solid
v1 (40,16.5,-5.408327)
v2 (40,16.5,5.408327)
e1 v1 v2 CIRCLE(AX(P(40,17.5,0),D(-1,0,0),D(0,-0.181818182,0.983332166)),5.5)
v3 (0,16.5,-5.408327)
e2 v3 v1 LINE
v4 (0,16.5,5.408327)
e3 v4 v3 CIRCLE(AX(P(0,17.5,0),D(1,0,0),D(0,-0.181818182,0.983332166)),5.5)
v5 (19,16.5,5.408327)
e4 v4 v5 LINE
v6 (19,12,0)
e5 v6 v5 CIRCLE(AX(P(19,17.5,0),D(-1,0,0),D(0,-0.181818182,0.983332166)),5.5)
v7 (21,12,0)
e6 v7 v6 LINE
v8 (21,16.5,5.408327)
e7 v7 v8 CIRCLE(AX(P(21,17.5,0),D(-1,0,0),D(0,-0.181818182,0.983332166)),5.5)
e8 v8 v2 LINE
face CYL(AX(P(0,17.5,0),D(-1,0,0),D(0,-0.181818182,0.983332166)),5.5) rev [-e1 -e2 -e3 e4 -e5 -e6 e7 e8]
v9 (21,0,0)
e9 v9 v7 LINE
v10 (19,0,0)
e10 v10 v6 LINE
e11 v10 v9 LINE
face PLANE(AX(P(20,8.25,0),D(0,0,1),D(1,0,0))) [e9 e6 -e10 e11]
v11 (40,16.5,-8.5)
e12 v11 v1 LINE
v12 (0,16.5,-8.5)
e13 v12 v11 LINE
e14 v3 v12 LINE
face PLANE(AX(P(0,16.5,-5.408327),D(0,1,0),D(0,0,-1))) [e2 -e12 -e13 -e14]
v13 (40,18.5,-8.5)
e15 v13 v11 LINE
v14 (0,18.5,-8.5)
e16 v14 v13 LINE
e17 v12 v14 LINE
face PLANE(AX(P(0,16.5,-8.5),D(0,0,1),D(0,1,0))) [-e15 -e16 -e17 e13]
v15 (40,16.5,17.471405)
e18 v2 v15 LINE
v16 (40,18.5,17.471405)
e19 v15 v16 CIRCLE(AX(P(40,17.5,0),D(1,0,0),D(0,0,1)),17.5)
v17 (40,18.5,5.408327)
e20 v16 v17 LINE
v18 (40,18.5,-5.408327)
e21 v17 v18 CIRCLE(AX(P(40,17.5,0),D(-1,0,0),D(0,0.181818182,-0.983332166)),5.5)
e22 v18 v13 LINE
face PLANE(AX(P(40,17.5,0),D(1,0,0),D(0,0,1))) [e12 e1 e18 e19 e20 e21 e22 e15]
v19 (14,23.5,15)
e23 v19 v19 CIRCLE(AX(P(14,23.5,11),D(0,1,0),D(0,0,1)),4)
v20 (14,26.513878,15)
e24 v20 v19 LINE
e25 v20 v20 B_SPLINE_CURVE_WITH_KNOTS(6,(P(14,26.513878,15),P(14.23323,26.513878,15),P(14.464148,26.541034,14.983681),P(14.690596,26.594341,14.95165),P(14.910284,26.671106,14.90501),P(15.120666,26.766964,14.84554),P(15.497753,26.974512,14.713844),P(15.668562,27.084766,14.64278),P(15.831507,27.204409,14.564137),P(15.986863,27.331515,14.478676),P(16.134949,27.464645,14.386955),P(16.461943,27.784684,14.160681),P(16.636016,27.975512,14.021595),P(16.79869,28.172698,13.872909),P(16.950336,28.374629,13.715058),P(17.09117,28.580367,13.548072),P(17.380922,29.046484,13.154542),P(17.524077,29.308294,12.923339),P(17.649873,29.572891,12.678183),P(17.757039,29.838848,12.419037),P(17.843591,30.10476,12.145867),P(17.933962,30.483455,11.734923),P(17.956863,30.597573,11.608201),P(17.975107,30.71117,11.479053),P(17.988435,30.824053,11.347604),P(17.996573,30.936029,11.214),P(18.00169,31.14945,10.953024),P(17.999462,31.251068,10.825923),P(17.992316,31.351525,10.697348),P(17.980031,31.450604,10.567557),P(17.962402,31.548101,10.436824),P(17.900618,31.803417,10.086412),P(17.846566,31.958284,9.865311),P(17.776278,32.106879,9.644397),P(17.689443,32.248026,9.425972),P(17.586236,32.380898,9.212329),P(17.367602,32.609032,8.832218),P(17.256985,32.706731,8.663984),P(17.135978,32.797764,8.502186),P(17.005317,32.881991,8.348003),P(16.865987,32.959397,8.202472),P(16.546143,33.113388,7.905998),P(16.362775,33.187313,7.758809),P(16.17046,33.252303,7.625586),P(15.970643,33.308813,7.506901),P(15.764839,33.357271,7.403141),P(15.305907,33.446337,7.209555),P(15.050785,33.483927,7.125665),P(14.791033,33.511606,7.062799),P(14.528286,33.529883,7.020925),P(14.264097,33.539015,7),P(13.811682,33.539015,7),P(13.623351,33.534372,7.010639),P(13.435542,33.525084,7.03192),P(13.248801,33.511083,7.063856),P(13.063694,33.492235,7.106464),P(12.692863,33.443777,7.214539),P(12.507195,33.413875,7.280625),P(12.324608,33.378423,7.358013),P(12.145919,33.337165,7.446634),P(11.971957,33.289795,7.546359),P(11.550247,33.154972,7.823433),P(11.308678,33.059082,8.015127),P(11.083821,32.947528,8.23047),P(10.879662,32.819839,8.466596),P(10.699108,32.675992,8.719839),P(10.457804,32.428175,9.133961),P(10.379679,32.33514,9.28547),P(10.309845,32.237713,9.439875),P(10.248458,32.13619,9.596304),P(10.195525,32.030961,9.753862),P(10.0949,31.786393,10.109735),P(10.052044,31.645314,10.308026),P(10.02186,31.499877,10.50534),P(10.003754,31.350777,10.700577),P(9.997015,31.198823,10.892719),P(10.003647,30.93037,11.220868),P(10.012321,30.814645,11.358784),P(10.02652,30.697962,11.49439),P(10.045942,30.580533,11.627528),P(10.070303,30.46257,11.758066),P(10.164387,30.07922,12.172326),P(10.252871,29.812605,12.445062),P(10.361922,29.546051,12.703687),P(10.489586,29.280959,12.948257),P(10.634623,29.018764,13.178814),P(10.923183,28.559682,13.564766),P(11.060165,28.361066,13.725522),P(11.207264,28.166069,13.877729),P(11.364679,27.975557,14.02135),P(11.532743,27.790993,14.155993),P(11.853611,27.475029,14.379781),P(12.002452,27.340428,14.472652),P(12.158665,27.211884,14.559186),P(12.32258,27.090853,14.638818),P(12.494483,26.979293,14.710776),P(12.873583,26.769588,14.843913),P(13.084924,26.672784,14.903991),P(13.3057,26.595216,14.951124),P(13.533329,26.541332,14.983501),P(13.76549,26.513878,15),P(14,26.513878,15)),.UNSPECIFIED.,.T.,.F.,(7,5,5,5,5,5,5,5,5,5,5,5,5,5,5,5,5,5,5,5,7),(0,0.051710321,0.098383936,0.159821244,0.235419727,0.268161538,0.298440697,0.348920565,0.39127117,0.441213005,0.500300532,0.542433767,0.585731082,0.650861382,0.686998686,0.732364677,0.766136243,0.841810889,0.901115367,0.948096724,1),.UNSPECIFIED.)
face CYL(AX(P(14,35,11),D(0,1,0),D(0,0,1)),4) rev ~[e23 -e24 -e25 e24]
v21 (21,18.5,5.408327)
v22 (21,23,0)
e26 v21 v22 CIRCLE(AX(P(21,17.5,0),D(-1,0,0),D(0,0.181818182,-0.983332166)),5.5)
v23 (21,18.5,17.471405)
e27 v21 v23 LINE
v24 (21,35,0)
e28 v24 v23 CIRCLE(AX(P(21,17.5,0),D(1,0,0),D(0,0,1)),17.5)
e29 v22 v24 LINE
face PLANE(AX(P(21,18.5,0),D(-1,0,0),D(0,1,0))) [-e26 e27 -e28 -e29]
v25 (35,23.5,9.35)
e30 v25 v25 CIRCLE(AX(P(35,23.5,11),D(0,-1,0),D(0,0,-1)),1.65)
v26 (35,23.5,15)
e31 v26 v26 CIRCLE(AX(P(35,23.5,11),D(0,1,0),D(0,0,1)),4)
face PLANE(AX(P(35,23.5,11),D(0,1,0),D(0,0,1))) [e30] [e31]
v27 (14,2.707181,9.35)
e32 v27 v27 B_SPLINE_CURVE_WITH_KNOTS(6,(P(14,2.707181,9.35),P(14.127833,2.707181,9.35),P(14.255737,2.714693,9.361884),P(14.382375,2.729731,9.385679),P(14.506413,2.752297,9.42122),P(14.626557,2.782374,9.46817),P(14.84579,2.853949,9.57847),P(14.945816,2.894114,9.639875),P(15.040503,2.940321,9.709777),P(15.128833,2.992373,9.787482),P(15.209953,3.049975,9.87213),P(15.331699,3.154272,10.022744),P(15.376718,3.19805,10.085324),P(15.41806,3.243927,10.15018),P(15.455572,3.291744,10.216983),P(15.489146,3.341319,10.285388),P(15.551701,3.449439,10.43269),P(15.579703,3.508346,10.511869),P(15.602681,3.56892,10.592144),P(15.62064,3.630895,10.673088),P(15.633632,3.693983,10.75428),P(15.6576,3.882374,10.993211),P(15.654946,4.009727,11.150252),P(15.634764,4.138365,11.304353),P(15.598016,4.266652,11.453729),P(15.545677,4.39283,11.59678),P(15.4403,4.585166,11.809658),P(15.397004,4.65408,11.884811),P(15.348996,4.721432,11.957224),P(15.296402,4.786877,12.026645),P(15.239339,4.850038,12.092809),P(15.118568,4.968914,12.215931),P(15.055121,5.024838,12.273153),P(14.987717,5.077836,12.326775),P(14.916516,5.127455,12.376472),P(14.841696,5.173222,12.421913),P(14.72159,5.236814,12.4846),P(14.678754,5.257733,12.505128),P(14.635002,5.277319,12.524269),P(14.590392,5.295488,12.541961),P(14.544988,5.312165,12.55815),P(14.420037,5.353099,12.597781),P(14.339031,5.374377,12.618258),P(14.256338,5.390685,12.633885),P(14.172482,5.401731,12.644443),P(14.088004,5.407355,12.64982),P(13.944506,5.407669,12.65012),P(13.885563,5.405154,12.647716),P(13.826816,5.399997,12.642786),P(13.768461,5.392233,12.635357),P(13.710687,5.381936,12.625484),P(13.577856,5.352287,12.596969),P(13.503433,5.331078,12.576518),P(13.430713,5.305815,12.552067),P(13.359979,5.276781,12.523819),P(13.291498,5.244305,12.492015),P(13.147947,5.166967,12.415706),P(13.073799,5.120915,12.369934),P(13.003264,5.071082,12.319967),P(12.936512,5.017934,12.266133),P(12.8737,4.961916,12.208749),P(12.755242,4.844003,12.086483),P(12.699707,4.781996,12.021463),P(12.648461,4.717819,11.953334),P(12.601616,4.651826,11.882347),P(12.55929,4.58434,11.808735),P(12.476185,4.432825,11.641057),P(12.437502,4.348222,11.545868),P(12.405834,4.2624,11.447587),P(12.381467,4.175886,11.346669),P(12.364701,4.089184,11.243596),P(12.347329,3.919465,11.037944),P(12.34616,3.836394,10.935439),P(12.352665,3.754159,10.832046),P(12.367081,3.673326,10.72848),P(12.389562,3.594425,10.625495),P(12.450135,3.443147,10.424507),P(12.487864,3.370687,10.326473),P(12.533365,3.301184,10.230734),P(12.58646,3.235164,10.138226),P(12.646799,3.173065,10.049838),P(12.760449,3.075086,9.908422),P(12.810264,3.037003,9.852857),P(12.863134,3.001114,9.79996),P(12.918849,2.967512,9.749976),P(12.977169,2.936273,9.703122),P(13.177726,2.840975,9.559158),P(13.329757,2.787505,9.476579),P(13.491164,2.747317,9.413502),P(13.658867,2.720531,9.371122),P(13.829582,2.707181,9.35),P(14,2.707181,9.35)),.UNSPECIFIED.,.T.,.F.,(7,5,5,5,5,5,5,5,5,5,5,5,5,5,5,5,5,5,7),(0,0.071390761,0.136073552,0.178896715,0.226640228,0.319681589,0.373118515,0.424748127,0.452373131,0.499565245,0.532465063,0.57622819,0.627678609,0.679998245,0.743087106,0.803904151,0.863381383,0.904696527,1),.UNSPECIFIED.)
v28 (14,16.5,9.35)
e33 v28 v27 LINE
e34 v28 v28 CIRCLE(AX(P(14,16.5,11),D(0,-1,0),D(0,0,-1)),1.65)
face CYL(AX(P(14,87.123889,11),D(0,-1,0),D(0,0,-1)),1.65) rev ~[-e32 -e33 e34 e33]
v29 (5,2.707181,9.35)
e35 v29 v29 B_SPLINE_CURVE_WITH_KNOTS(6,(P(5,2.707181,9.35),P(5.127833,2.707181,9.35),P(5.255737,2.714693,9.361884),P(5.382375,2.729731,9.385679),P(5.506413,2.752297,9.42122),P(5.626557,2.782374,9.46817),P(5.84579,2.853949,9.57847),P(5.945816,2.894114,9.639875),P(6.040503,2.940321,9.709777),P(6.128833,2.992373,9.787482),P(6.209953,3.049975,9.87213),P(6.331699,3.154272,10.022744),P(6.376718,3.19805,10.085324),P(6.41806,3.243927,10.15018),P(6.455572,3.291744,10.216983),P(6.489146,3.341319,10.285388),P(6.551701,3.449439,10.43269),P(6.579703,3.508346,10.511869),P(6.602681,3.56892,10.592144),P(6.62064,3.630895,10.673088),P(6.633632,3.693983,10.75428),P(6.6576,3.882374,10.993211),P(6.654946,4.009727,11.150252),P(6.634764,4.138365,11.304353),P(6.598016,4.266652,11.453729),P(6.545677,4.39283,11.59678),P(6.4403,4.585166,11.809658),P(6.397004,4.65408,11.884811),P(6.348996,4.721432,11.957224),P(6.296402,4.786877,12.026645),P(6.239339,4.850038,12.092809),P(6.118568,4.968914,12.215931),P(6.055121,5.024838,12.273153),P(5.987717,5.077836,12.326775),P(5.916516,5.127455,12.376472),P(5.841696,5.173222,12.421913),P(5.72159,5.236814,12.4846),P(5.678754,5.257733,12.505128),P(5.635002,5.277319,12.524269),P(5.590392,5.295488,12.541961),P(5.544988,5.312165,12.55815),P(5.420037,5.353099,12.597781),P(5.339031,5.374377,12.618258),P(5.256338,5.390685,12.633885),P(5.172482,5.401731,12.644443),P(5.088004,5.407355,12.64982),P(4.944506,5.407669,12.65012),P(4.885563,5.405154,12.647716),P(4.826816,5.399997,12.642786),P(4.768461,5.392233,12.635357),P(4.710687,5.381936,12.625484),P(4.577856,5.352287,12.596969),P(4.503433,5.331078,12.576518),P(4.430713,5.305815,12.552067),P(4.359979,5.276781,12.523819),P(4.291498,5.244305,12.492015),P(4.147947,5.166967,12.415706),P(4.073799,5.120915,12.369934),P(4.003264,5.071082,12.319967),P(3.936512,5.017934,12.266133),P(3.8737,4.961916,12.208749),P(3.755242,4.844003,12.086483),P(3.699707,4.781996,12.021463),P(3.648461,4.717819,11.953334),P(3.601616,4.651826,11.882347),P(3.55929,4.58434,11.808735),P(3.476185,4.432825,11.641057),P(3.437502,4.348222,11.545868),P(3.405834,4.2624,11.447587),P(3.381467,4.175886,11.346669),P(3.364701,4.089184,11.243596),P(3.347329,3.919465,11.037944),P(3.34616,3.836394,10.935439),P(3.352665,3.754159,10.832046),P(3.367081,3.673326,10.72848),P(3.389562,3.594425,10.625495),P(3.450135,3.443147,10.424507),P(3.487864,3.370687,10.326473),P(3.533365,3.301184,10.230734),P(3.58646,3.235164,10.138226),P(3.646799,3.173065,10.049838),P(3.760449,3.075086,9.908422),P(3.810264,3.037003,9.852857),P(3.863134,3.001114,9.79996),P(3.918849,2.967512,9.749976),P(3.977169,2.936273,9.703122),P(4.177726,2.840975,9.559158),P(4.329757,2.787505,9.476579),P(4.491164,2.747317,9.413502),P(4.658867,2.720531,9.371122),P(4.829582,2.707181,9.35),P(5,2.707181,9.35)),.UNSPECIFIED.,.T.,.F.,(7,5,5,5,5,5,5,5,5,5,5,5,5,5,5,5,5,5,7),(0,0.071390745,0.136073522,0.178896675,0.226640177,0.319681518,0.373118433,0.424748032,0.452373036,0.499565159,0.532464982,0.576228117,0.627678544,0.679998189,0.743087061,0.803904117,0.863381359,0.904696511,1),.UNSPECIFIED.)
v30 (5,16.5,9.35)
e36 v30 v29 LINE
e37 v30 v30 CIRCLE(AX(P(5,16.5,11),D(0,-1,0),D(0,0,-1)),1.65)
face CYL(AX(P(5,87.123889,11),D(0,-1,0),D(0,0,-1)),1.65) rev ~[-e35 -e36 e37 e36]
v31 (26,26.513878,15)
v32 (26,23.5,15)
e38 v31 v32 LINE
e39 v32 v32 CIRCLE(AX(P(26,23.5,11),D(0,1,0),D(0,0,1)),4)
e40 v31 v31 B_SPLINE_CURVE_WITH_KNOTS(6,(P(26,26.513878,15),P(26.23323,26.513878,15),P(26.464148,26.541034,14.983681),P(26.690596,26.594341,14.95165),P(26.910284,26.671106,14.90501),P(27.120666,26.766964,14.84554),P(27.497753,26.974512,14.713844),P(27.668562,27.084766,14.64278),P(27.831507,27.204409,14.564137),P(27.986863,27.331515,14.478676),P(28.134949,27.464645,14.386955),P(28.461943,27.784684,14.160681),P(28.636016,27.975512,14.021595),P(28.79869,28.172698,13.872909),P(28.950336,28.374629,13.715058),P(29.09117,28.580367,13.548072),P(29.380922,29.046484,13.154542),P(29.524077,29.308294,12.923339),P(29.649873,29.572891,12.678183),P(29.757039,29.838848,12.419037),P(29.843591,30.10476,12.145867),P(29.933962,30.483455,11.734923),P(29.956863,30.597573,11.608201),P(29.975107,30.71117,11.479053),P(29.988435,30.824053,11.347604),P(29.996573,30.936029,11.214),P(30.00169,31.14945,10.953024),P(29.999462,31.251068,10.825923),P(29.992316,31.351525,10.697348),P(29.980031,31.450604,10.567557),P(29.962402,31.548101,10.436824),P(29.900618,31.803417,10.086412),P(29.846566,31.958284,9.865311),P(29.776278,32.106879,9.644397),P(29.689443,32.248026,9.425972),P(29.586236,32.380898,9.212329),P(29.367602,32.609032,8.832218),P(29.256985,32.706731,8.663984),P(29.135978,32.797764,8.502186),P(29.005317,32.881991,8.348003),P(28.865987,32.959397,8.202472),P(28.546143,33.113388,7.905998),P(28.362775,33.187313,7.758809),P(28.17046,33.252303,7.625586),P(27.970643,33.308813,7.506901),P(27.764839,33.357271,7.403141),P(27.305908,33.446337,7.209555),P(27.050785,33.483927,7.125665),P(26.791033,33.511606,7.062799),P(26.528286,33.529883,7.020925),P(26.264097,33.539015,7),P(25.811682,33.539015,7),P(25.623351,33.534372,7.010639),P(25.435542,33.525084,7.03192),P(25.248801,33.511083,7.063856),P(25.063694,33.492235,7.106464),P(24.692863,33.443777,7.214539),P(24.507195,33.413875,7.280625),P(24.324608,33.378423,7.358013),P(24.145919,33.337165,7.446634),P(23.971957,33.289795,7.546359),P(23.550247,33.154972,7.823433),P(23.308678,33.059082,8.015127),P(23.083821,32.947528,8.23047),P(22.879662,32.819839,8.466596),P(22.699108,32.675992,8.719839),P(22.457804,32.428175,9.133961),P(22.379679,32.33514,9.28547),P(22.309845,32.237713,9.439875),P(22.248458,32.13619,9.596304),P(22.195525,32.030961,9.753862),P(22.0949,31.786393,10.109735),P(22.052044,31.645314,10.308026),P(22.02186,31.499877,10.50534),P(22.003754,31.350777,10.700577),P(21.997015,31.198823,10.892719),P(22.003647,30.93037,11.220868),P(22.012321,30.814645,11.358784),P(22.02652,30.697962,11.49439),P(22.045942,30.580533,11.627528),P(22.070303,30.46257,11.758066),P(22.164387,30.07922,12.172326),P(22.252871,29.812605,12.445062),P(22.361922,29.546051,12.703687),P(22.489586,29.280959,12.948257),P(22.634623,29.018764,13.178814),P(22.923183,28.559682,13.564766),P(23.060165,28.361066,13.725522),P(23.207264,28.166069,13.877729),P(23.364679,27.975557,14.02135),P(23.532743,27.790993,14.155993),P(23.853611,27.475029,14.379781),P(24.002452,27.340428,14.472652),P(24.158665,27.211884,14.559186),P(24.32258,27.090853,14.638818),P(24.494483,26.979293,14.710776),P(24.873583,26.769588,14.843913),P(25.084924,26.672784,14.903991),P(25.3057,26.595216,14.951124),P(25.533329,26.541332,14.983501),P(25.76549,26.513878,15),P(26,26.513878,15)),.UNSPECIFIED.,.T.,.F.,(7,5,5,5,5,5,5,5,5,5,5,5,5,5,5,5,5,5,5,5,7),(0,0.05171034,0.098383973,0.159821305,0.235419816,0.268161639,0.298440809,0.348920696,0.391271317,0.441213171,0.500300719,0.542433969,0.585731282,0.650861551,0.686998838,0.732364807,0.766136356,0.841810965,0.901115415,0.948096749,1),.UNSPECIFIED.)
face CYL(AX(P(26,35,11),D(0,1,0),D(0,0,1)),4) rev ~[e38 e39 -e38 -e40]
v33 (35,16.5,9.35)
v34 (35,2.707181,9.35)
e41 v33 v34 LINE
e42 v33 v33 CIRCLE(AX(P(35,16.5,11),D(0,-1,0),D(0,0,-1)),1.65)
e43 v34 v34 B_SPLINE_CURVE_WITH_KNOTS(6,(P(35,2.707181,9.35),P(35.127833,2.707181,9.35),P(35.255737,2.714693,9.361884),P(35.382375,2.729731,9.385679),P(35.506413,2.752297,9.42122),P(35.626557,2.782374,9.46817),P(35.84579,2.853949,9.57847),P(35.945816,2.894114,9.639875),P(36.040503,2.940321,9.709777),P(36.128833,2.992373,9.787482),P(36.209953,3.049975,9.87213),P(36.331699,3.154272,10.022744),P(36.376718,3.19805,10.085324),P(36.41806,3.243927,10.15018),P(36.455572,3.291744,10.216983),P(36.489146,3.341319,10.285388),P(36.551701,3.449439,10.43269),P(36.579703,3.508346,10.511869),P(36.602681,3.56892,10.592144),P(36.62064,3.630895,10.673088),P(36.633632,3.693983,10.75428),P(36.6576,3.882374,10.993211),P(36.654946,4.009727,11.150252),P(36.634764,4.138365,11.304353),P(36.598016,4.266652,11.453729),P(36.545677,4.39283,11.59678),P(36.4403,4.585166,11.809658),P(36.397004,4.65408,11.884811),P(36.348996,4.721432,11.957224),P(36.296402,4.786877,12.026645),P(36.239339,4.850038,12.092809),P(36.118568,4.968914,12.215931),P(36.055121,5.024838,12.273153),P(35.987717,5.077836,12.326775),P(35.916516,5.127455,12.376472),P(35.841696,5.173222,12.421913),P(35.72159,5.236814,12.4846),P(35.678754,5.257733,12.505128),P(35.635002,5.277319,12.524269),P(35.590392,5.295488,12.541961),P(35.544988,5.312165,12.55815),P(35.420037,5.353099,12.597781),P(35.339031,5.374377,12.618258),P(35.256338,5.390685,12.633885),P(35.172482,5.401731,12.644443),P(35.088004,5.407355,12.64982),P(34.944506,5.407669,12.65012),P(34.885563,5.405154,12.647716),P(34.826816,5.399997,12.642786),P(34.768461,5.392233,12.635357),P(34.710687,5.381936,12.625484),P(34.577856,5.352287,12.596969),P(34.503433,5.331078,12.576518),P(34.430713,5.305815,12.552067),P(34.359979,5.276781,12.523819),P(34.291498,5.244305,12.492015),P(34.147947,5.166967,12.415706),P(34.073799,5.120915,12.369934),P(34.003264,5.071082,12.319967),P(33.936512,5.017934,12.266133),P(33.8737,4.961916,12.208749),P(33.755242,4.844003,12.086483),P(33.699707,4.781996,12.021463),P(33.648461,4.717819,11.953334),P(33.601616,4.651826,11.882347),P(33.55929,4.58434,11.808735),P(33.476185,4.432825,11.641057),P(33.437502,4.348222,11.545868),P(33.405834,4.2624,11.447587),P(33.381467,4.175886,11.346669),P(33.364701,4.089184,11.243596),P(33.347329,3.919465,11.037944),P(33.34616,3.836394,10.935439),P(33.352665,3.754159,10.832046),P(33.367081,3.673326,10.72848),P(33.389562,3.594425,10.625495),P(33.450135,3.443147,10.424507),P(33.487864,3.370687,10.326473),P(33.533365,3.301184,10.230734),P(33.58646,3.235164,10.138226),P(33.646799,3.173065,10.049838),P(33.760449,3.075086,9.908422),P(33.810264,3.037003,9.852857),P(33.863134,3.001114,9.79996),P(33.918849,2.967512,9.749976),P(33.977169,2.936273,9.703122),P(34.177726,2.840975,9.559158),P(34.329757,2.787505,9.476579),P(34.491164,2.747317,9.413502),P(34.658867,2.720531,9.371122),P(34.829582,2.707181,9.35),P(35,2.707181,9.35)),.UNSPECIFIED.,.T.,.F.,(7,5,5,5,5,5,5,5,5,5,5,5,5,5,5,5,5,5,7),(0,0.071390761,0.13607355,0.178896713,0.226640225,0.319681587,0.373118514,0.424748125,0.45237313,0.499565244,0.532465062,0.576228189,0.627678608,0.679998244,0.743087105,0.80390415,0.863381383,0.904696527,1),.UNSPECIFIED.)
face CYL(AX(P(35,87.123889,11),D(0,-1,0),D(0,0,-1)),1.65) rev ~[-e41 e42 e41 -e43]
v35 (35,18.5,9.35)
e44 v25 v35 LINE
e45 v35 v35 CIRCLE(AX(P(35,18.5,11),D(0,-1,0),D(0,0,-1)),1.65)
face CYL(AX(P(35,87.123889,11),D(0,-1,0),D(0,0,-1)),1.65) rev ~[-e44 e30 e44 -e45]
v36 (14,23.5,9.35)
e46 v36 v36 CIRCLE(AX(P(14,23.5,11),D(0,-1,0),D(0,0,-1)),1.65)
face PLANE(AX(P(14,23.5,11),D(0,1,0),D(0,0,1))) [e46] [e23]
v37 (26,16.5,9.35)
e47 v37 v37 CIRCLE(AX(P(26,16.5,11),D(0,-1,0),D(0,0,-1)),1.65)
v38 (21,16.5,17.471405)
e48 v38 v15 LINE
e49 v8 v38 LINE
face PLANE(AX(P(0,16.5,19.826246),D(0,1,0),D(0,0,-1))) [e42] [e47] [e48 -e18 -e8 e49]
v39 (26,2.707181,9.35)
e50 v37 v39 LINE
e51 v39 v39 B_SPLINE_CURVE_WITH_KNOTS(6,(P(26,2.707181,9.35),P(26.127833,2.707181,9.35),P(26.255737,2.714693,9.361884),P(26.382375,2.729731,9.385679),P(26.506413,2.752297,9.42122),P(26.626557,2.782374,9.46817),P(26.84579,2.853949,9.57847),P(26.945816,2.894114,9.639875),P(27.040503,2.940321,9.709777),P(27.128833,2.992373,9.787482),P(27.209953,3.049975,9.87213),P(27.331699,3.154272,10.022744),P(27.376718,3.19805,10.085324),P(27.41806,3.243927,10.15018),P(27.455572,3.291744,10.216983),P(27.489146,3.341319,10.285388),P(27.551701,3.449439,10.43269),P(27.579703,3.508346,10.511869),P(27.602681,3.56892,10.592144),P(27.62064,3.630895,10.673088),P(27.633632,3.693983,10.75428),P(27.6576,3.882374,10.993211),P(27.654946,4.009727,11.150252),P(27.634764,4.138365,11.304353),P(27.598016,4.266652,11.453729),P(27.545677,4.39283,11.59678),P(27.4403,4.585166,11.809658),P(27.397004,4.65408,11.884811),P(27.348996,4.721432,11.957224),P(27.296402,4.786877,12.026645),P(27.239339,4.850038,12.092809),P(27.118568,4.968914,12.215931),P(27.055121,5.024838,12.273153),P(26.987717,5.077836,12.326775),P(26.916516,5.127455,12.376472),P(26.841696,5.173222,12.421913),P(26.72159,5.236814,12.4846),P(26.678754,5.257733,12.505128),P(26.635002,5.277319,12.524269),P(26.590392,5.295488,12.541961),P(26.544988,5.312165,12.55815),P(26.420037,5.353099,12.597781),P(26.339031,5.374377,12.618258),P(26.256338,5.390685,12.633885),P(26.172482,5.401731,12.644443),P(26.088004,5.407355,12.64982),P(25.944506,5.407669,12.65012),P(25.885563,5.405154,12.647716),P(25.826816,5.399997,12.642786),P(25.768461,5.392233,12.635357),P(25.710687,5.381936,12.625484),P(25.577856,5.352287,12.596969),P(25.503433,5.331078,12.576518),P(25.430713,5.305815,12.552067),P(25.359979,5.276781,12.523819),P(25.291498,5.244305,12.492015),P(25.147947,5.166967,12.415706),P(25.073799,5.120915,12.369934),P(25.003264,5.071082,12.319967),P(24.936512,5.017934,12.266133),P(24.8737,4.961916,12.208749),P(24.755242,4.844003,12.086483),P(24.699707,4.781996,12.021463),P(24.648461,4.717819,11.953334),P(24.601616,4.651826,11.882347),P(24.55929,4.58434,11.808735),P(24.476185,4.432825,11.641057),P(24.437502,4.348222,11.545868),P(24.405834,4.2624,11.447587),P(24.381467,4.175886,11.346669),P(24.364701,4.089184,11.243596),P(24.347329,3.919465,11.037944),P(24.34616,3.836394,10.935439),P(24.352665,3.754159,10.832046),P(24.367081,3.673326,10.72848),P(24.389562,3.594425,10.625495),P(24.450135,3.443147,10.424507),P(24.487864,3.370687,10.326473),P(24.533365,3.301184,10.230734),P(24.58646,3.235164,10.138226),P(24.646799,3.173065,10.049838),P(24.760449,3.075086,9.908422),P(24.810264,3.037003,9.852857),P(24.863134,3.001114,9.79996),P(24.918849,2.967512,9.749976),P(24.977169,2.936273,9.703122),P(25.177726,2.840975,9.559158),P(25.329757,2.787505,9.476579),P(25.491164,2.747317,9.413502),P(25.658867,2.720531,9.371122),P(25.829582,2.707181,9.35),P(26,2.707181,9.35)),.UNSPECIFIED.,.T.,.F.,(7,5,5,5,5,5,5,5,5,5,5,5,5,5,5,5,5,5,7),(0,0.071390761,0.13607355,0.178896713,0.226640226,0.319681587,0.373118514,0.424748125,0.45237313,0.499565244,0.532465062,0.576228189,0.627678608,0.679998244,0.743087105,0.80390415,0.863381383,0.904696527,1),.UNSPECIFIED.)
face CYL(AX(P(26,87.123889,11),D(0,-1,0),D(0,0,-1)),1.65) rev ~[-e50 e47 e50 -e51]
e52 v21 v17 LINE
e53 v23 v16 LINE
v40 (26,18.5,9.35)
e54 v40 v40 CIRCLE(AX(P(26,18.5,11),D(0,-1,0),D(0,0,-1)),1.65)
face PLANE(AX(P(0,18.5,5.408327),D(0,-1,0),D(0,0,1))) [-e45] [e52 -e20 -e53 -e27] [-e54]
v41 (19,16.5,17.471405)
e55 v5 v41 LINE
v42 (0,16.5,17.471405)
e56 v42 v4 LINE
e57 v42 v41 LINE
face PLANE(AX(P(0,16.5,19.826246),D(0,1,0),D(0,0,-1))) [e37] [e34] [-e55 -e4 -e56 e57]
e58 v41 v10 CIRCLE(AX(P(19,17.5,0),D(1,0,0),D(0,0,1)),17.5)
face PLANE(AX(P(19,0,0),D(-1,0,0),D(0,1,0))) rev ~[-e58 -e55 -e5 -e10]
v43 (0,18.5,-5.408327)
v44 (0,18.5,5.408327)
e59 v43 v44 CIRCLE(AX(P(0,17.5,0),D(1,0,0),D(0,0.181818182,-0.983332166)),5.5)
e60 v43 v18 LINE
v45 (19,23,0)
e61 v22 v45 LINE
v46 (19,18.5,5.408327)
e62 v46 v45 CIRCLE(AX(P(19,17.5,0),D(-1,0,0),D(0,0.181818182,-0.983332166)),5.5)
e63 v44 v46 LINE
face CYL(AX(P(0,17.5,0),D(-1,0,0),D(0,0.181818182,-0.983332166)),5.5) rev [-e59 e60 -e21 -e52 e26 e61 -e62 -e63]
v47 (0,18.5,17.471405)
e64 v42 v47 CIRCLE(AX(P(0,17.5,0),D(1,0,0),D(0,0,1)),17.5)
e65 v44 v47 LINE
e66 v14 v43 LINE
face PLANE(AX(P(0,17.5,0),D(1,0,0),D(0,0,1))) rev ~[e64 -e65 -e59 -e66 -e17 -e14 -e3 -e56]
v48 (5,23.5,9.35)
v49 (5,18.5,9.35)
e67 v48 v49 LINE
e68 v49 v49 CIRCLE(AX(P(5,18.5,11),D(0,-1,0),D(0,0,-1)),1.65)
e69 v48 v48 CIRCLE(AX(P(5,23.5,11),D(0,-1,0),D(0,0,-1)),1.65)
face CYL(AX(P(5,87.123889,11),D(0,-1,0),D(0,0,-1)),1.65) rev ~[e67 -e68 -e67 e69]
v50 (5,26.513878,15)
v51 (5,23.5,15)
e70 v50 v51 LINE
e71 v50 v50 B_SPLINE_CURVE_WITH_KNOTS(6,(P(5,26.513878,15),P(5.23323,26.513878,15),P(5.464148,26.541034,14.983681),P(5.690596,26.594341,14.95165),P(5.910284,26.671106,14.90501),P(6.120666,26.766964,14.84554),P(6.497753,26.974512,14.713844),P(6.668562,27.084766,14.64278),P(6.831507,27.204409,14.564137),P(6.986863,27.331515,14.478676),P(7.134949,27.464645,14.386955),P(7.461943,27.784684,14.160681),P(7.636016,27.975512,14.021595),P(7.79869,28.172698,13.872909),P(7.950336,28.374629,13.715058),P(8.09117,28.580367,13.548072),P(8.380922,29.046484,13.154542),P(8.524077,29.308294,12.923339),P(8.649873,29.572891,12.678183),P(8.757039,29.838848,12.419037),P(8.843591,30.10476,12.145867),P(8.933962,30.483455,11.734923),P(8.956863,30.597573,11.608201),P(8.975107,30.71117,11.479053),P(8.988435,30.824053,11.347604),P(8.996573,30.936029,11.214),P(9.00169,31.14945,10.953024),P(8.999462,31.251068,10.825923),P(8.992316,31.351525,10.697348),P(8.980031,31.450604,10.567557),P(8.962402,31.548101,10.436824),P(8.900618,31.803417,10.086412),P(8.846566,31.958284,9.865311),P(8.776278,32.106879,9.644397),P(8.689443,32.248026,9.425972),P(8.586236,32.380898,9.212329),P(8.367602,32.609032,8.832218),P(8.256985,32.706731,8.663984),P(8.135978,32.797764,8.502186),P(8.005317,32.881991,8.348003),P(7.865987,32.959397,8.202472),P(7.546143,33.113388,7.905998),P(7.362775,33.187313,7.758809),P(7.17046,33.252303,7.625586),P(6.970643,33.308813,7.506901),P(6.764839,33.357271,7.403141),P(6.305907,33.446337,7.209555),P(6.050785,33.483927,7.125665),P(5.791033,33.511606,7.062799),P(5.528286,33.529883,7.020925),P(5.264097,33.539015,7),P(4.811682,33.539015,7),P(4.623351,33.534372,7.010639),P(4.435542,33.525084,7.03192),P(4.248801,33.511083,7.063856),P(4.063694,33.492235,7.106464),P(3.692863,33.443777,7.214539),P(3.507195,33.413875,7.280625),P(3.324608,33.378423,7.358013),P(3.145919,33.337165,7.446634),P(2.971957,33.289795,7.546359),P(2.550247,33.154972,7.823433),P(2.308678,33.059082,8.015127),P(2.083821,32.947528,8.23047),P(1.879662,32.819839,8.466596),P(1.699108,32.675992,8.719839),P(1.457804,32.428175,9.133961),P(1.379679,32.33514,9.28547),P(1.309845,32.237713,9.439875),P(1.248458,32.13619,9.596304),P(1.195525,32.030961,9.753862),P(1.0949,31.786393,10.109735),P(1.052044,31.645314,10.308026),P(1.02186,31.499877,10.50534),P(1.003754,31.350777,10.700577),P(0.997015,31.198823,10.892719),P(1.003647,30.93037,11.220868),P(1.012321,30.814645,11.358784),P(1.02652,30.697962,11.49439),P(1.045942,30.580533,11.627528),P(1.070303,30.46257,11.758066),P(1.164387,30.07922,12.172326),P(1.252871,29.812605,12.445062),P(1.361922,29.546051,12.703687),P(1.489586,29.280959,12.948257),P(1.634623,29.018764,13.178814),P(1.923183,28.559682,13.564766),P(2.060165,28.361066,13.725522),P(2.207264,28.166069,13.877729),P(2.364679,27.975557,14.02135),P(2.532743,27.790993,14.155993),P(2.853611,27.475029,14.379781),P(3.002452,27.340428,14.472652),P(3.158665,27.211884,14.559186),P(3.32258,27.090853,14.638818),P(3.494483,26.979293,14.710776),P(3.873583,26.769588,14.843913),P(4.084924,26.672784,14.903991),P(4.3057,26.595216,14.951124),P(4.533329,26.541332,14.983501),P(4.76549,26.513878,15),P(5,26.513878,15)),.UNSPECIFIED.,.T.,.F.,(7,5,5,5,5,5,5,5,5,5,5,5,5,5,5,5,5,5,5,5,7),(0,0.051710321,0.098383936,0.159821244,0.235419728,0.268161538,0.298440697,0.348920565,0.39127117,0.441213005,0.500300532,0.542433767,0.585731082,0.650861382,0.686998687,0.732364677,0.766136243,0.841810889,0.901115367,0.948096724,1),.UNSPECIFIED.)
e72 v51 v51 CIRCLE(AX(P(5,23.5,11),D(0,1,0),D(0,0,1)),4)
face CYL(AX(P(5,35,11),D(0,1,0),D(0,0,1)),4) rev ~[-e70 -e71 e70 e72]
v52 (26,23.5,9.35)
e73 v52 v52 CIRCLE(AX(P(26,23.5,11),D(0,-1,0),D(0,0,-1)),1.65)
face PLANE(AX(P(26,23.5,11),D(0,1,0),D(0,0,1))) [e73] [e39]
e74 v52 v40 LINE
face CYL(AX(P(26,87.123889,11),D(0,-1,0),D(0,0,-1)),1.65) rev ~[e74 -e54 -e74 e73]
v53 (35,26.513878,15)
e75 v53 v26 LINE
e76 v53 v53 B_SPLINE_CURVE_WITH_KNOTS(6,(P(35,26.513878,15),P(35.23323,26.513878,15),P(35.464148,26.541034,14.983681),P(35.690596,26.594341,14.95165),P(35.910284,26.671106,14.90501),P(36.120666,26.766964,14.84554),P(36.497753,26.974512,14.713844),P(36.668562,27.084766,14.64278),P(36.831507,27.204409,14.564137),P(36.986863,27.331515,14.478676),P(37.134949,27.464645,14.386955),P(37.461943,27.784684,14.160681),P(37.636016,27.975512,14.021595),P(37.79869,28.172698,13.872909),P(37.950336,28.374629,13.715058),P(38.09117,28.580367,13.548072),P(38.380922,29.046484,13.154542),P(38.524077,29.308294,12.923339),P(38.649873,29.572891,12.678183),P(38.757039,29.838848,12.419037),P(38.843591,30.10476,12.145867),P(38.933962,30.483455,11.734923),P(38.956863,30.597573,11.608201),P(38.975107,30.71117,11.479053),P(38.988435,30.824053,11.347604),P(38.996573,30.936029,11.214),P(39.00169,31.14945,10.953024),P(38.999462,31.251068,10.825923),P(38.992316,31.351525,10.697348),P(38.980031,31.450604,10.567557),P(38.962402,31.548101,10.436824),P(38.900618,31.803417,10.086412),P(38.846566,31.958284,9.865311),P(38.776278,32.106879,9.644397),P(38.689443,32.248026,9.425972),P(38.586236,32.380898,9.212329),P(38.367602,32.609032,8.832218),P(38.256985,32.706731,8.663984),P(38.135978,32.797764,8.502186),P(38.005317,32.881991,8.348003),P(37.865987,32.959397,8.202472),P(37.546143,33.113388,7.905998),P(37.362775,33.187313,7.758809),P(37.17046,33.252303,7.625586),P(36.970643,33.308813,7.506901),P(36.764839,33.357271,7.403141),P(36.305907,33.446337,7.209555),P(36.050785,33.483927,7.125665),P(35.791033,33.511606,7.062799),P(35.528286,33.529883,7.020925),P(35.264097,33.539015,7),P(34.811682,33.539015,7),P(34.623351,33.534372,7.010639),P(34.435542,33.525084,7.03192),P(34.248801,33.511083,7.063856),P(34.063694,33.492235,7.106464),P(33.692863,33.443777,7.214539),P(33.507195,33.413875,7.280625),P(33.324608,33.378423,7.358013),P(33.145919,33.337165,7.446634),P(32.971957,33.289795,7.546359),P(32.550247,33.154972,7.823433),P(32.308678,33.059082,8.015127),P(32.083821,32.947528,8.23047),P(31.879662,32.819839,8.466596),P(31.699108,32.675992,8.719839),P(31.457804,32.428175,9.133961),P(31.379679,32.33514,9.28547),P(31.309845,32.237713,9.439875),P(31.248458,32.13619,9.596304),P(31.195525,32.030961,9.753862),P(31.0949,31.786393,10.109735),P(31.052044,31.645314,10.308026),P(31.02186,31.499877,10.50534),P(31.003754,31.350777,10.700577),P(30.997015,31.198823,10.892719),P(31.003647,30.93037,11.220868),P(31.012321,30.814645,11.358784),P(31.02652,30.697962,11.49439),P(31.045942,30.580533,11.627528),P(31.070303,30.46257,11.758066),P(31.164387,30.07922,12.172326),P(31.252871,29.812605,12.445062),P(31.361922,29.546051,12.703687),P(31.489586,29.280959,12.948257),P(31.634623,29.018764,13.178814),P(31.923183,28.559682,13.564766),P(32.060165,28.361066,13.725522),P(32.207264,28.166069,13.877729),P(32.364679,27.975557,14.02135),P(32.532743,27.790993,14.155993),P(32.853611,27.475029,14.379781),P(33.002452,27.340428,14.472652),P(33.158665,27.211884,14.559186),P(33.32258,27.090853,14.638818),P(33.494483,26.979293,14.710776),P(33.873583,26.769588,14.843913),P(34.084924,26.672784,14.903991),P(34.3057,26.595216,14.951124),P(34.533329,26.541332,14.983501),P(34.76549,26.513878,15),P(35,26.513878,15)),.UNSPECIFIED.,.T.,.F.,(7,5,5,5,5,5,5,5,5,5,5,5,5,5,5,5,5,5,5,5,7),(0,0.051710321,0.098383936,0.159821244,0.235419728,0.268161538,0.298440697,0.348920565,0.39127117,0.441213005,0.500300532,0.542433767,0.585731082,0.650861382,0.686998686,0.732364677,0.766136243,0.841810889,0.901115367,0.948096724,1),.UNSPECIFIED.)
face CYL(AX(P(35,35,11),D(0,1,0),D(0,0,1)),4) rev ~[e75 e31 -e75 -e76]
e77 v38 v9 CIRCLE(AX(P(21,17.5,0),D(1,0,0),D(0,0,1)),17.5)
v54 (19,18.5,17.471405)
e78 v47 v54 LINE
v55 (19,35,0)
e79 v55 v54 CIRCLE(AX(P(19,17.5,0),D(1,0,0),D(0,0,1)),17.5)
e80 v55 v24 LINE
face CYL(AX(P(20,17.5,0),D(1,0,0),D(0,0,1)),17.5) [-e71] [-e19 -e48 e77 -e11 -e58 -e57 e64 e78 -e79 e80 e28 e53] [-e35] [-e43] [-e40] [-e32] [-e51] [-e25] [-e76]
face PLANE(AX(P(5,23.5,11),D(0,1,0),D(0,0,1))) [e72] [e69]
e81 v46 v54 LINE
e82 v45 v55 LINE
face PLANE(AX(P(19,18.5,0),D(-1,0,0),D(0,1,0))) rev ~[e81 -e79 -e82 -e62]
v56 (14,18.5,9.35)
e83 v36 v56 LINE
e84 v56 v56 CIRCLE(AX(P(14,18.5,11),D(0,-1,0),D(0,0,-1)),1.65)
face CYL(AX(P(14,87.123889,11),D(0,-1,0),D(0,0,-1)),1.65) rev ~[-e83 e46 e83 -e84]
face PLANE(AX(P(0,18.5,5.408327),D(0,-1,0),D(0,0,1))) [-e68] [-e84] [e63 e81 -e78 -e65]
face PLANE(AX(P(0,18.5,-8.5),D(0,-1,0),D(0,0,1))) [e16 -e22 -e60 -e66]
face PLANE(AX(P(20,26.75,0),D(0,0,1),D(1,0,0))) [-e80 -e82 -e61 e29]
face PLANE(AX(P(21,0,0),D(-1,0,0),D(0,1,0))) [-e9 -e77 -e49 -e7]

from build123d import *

# Parameters (mm, degrees)
SKIZZE2_W                       = 40
SKIZZE2_H                       = 17.5
SCHNITT_LINEAR_AUSTRAGEN1_DEPTH = 56.957573214
SKIZZE6_W                       = 2
SKIZZE6_H                       = 16.5
SCHNITT_LINEAR_AUSTRAGEN3_DEPTH = 56.957573214
SKIZZE10_R                      = 4
SCHNITT_LINEAR_AUSTRAGEN4_DEPTH = 11.5
KERNLOCH_F_R_M4_GEWINDE1_D      = 3.3


with BuildPart() as part:
    # Skizze2 → Rotation1 (revolve)
    with BuildSketch(Plane.XY, mode=Mode.PRIVATE) as rotation1_sk:
        with Locations((20, 8.75)):
            Rectangle(SKIZZE2_W, SKIZZE2_H)
    revolve(rotation1_sk.sketch.rotate(Axis((0, 17.5, 0), (1, 0, 0)), 270), axis=Axis((0, 17.5, 0), (1, 0, 0)))

    # Skizze3 → Schnitt-Linear austragen1 (cut, through all)
    with BuildSketch(Plane.ZY):
        with BuildLine():
            Line((5.408326913, 18.5), (19.826246022, 18.5))
            Line((19.826246022, 18.5), (19.826246022, 16.5))
            Line((19.826246022, 16.5), (5.408326913, 16.5))
            ThreePointArc((5.408326913, 16.5), (0, 12), (-5.408326913, 16.5))
            Line((-5.408326913, 16.5), (-8.5, 16.5))
            Line((-8.5, 16.5), (-8.5, 17.5))
            Line((-8.5, 17.5), (-8.5, 18.5))
            Line((-8.5, 18.5), (-5.408326913, 18.5))
            ThreePointArc((-5.408326913, 18.5), (0, 23), (5.408326913, 18.5))
        make_face()
    extrude(amount=-SCHNITT_LINEAR_AUSTRAGEN1_DEPTH, mode=Mode.SUBTRACT)

    # Skizze6 → Schnitt-Linear austragen3 (cut, through all)
    with BuildSketch(Plane.XY):
        with Locations((20, 8.25)):
            Rectangle(SKIZZE6_W, SKIZZE6_H)
        with Locations((20, 26.75)):
            Rectangle(SKIZZE6_W, SKIZZE6_H)
    extrude(amount=SCHNITT_LINEAR_AUSTRAGEN3_DEPTH, mode=Mode.SUBTRACT)

    # Skizze10 → Schnitt-Linear austragen4 (cut)
    with BuildSketch(Plane(origin=(0, 35, 0), x_dir=(1, 0, 0), z_dir=(0, 1, 0))):
        with Locations(Location((26, -11, 0), (0, 0, 270))):
            Circle(SKIZZE10_R)
        with Locations(Location((35, -11, 0), (0, 0, 270))):
            Circle(SKIZZE10_R)
        with Locations(Location((5, -11, 0), (0, 0, 270))):
            Circle(SKIZZE10_R)
        with Locations(Location((14, -11, 0), (0, 0, 270))):
            Circle(SKIZZE10_R)
    extrude(amount=-SCHNITT_LINEAR_AUSTRAGEN4_DEPTH, mode=Mode.SUBTRACT)

    # Kernloch für M4 Gewinde1 (through all)
    with Locations(Plane(origin=(5, 23.5, 11), x_dir=(0, 0, 1), z_dir=(0, 1, 0))):
        with Locations((0, 0), (0, 9), (0, 21), (0, 30)):
            Hole(KERNLOCH_F_R_M4_GEWINDE1_D / 2)


solid = part.part
